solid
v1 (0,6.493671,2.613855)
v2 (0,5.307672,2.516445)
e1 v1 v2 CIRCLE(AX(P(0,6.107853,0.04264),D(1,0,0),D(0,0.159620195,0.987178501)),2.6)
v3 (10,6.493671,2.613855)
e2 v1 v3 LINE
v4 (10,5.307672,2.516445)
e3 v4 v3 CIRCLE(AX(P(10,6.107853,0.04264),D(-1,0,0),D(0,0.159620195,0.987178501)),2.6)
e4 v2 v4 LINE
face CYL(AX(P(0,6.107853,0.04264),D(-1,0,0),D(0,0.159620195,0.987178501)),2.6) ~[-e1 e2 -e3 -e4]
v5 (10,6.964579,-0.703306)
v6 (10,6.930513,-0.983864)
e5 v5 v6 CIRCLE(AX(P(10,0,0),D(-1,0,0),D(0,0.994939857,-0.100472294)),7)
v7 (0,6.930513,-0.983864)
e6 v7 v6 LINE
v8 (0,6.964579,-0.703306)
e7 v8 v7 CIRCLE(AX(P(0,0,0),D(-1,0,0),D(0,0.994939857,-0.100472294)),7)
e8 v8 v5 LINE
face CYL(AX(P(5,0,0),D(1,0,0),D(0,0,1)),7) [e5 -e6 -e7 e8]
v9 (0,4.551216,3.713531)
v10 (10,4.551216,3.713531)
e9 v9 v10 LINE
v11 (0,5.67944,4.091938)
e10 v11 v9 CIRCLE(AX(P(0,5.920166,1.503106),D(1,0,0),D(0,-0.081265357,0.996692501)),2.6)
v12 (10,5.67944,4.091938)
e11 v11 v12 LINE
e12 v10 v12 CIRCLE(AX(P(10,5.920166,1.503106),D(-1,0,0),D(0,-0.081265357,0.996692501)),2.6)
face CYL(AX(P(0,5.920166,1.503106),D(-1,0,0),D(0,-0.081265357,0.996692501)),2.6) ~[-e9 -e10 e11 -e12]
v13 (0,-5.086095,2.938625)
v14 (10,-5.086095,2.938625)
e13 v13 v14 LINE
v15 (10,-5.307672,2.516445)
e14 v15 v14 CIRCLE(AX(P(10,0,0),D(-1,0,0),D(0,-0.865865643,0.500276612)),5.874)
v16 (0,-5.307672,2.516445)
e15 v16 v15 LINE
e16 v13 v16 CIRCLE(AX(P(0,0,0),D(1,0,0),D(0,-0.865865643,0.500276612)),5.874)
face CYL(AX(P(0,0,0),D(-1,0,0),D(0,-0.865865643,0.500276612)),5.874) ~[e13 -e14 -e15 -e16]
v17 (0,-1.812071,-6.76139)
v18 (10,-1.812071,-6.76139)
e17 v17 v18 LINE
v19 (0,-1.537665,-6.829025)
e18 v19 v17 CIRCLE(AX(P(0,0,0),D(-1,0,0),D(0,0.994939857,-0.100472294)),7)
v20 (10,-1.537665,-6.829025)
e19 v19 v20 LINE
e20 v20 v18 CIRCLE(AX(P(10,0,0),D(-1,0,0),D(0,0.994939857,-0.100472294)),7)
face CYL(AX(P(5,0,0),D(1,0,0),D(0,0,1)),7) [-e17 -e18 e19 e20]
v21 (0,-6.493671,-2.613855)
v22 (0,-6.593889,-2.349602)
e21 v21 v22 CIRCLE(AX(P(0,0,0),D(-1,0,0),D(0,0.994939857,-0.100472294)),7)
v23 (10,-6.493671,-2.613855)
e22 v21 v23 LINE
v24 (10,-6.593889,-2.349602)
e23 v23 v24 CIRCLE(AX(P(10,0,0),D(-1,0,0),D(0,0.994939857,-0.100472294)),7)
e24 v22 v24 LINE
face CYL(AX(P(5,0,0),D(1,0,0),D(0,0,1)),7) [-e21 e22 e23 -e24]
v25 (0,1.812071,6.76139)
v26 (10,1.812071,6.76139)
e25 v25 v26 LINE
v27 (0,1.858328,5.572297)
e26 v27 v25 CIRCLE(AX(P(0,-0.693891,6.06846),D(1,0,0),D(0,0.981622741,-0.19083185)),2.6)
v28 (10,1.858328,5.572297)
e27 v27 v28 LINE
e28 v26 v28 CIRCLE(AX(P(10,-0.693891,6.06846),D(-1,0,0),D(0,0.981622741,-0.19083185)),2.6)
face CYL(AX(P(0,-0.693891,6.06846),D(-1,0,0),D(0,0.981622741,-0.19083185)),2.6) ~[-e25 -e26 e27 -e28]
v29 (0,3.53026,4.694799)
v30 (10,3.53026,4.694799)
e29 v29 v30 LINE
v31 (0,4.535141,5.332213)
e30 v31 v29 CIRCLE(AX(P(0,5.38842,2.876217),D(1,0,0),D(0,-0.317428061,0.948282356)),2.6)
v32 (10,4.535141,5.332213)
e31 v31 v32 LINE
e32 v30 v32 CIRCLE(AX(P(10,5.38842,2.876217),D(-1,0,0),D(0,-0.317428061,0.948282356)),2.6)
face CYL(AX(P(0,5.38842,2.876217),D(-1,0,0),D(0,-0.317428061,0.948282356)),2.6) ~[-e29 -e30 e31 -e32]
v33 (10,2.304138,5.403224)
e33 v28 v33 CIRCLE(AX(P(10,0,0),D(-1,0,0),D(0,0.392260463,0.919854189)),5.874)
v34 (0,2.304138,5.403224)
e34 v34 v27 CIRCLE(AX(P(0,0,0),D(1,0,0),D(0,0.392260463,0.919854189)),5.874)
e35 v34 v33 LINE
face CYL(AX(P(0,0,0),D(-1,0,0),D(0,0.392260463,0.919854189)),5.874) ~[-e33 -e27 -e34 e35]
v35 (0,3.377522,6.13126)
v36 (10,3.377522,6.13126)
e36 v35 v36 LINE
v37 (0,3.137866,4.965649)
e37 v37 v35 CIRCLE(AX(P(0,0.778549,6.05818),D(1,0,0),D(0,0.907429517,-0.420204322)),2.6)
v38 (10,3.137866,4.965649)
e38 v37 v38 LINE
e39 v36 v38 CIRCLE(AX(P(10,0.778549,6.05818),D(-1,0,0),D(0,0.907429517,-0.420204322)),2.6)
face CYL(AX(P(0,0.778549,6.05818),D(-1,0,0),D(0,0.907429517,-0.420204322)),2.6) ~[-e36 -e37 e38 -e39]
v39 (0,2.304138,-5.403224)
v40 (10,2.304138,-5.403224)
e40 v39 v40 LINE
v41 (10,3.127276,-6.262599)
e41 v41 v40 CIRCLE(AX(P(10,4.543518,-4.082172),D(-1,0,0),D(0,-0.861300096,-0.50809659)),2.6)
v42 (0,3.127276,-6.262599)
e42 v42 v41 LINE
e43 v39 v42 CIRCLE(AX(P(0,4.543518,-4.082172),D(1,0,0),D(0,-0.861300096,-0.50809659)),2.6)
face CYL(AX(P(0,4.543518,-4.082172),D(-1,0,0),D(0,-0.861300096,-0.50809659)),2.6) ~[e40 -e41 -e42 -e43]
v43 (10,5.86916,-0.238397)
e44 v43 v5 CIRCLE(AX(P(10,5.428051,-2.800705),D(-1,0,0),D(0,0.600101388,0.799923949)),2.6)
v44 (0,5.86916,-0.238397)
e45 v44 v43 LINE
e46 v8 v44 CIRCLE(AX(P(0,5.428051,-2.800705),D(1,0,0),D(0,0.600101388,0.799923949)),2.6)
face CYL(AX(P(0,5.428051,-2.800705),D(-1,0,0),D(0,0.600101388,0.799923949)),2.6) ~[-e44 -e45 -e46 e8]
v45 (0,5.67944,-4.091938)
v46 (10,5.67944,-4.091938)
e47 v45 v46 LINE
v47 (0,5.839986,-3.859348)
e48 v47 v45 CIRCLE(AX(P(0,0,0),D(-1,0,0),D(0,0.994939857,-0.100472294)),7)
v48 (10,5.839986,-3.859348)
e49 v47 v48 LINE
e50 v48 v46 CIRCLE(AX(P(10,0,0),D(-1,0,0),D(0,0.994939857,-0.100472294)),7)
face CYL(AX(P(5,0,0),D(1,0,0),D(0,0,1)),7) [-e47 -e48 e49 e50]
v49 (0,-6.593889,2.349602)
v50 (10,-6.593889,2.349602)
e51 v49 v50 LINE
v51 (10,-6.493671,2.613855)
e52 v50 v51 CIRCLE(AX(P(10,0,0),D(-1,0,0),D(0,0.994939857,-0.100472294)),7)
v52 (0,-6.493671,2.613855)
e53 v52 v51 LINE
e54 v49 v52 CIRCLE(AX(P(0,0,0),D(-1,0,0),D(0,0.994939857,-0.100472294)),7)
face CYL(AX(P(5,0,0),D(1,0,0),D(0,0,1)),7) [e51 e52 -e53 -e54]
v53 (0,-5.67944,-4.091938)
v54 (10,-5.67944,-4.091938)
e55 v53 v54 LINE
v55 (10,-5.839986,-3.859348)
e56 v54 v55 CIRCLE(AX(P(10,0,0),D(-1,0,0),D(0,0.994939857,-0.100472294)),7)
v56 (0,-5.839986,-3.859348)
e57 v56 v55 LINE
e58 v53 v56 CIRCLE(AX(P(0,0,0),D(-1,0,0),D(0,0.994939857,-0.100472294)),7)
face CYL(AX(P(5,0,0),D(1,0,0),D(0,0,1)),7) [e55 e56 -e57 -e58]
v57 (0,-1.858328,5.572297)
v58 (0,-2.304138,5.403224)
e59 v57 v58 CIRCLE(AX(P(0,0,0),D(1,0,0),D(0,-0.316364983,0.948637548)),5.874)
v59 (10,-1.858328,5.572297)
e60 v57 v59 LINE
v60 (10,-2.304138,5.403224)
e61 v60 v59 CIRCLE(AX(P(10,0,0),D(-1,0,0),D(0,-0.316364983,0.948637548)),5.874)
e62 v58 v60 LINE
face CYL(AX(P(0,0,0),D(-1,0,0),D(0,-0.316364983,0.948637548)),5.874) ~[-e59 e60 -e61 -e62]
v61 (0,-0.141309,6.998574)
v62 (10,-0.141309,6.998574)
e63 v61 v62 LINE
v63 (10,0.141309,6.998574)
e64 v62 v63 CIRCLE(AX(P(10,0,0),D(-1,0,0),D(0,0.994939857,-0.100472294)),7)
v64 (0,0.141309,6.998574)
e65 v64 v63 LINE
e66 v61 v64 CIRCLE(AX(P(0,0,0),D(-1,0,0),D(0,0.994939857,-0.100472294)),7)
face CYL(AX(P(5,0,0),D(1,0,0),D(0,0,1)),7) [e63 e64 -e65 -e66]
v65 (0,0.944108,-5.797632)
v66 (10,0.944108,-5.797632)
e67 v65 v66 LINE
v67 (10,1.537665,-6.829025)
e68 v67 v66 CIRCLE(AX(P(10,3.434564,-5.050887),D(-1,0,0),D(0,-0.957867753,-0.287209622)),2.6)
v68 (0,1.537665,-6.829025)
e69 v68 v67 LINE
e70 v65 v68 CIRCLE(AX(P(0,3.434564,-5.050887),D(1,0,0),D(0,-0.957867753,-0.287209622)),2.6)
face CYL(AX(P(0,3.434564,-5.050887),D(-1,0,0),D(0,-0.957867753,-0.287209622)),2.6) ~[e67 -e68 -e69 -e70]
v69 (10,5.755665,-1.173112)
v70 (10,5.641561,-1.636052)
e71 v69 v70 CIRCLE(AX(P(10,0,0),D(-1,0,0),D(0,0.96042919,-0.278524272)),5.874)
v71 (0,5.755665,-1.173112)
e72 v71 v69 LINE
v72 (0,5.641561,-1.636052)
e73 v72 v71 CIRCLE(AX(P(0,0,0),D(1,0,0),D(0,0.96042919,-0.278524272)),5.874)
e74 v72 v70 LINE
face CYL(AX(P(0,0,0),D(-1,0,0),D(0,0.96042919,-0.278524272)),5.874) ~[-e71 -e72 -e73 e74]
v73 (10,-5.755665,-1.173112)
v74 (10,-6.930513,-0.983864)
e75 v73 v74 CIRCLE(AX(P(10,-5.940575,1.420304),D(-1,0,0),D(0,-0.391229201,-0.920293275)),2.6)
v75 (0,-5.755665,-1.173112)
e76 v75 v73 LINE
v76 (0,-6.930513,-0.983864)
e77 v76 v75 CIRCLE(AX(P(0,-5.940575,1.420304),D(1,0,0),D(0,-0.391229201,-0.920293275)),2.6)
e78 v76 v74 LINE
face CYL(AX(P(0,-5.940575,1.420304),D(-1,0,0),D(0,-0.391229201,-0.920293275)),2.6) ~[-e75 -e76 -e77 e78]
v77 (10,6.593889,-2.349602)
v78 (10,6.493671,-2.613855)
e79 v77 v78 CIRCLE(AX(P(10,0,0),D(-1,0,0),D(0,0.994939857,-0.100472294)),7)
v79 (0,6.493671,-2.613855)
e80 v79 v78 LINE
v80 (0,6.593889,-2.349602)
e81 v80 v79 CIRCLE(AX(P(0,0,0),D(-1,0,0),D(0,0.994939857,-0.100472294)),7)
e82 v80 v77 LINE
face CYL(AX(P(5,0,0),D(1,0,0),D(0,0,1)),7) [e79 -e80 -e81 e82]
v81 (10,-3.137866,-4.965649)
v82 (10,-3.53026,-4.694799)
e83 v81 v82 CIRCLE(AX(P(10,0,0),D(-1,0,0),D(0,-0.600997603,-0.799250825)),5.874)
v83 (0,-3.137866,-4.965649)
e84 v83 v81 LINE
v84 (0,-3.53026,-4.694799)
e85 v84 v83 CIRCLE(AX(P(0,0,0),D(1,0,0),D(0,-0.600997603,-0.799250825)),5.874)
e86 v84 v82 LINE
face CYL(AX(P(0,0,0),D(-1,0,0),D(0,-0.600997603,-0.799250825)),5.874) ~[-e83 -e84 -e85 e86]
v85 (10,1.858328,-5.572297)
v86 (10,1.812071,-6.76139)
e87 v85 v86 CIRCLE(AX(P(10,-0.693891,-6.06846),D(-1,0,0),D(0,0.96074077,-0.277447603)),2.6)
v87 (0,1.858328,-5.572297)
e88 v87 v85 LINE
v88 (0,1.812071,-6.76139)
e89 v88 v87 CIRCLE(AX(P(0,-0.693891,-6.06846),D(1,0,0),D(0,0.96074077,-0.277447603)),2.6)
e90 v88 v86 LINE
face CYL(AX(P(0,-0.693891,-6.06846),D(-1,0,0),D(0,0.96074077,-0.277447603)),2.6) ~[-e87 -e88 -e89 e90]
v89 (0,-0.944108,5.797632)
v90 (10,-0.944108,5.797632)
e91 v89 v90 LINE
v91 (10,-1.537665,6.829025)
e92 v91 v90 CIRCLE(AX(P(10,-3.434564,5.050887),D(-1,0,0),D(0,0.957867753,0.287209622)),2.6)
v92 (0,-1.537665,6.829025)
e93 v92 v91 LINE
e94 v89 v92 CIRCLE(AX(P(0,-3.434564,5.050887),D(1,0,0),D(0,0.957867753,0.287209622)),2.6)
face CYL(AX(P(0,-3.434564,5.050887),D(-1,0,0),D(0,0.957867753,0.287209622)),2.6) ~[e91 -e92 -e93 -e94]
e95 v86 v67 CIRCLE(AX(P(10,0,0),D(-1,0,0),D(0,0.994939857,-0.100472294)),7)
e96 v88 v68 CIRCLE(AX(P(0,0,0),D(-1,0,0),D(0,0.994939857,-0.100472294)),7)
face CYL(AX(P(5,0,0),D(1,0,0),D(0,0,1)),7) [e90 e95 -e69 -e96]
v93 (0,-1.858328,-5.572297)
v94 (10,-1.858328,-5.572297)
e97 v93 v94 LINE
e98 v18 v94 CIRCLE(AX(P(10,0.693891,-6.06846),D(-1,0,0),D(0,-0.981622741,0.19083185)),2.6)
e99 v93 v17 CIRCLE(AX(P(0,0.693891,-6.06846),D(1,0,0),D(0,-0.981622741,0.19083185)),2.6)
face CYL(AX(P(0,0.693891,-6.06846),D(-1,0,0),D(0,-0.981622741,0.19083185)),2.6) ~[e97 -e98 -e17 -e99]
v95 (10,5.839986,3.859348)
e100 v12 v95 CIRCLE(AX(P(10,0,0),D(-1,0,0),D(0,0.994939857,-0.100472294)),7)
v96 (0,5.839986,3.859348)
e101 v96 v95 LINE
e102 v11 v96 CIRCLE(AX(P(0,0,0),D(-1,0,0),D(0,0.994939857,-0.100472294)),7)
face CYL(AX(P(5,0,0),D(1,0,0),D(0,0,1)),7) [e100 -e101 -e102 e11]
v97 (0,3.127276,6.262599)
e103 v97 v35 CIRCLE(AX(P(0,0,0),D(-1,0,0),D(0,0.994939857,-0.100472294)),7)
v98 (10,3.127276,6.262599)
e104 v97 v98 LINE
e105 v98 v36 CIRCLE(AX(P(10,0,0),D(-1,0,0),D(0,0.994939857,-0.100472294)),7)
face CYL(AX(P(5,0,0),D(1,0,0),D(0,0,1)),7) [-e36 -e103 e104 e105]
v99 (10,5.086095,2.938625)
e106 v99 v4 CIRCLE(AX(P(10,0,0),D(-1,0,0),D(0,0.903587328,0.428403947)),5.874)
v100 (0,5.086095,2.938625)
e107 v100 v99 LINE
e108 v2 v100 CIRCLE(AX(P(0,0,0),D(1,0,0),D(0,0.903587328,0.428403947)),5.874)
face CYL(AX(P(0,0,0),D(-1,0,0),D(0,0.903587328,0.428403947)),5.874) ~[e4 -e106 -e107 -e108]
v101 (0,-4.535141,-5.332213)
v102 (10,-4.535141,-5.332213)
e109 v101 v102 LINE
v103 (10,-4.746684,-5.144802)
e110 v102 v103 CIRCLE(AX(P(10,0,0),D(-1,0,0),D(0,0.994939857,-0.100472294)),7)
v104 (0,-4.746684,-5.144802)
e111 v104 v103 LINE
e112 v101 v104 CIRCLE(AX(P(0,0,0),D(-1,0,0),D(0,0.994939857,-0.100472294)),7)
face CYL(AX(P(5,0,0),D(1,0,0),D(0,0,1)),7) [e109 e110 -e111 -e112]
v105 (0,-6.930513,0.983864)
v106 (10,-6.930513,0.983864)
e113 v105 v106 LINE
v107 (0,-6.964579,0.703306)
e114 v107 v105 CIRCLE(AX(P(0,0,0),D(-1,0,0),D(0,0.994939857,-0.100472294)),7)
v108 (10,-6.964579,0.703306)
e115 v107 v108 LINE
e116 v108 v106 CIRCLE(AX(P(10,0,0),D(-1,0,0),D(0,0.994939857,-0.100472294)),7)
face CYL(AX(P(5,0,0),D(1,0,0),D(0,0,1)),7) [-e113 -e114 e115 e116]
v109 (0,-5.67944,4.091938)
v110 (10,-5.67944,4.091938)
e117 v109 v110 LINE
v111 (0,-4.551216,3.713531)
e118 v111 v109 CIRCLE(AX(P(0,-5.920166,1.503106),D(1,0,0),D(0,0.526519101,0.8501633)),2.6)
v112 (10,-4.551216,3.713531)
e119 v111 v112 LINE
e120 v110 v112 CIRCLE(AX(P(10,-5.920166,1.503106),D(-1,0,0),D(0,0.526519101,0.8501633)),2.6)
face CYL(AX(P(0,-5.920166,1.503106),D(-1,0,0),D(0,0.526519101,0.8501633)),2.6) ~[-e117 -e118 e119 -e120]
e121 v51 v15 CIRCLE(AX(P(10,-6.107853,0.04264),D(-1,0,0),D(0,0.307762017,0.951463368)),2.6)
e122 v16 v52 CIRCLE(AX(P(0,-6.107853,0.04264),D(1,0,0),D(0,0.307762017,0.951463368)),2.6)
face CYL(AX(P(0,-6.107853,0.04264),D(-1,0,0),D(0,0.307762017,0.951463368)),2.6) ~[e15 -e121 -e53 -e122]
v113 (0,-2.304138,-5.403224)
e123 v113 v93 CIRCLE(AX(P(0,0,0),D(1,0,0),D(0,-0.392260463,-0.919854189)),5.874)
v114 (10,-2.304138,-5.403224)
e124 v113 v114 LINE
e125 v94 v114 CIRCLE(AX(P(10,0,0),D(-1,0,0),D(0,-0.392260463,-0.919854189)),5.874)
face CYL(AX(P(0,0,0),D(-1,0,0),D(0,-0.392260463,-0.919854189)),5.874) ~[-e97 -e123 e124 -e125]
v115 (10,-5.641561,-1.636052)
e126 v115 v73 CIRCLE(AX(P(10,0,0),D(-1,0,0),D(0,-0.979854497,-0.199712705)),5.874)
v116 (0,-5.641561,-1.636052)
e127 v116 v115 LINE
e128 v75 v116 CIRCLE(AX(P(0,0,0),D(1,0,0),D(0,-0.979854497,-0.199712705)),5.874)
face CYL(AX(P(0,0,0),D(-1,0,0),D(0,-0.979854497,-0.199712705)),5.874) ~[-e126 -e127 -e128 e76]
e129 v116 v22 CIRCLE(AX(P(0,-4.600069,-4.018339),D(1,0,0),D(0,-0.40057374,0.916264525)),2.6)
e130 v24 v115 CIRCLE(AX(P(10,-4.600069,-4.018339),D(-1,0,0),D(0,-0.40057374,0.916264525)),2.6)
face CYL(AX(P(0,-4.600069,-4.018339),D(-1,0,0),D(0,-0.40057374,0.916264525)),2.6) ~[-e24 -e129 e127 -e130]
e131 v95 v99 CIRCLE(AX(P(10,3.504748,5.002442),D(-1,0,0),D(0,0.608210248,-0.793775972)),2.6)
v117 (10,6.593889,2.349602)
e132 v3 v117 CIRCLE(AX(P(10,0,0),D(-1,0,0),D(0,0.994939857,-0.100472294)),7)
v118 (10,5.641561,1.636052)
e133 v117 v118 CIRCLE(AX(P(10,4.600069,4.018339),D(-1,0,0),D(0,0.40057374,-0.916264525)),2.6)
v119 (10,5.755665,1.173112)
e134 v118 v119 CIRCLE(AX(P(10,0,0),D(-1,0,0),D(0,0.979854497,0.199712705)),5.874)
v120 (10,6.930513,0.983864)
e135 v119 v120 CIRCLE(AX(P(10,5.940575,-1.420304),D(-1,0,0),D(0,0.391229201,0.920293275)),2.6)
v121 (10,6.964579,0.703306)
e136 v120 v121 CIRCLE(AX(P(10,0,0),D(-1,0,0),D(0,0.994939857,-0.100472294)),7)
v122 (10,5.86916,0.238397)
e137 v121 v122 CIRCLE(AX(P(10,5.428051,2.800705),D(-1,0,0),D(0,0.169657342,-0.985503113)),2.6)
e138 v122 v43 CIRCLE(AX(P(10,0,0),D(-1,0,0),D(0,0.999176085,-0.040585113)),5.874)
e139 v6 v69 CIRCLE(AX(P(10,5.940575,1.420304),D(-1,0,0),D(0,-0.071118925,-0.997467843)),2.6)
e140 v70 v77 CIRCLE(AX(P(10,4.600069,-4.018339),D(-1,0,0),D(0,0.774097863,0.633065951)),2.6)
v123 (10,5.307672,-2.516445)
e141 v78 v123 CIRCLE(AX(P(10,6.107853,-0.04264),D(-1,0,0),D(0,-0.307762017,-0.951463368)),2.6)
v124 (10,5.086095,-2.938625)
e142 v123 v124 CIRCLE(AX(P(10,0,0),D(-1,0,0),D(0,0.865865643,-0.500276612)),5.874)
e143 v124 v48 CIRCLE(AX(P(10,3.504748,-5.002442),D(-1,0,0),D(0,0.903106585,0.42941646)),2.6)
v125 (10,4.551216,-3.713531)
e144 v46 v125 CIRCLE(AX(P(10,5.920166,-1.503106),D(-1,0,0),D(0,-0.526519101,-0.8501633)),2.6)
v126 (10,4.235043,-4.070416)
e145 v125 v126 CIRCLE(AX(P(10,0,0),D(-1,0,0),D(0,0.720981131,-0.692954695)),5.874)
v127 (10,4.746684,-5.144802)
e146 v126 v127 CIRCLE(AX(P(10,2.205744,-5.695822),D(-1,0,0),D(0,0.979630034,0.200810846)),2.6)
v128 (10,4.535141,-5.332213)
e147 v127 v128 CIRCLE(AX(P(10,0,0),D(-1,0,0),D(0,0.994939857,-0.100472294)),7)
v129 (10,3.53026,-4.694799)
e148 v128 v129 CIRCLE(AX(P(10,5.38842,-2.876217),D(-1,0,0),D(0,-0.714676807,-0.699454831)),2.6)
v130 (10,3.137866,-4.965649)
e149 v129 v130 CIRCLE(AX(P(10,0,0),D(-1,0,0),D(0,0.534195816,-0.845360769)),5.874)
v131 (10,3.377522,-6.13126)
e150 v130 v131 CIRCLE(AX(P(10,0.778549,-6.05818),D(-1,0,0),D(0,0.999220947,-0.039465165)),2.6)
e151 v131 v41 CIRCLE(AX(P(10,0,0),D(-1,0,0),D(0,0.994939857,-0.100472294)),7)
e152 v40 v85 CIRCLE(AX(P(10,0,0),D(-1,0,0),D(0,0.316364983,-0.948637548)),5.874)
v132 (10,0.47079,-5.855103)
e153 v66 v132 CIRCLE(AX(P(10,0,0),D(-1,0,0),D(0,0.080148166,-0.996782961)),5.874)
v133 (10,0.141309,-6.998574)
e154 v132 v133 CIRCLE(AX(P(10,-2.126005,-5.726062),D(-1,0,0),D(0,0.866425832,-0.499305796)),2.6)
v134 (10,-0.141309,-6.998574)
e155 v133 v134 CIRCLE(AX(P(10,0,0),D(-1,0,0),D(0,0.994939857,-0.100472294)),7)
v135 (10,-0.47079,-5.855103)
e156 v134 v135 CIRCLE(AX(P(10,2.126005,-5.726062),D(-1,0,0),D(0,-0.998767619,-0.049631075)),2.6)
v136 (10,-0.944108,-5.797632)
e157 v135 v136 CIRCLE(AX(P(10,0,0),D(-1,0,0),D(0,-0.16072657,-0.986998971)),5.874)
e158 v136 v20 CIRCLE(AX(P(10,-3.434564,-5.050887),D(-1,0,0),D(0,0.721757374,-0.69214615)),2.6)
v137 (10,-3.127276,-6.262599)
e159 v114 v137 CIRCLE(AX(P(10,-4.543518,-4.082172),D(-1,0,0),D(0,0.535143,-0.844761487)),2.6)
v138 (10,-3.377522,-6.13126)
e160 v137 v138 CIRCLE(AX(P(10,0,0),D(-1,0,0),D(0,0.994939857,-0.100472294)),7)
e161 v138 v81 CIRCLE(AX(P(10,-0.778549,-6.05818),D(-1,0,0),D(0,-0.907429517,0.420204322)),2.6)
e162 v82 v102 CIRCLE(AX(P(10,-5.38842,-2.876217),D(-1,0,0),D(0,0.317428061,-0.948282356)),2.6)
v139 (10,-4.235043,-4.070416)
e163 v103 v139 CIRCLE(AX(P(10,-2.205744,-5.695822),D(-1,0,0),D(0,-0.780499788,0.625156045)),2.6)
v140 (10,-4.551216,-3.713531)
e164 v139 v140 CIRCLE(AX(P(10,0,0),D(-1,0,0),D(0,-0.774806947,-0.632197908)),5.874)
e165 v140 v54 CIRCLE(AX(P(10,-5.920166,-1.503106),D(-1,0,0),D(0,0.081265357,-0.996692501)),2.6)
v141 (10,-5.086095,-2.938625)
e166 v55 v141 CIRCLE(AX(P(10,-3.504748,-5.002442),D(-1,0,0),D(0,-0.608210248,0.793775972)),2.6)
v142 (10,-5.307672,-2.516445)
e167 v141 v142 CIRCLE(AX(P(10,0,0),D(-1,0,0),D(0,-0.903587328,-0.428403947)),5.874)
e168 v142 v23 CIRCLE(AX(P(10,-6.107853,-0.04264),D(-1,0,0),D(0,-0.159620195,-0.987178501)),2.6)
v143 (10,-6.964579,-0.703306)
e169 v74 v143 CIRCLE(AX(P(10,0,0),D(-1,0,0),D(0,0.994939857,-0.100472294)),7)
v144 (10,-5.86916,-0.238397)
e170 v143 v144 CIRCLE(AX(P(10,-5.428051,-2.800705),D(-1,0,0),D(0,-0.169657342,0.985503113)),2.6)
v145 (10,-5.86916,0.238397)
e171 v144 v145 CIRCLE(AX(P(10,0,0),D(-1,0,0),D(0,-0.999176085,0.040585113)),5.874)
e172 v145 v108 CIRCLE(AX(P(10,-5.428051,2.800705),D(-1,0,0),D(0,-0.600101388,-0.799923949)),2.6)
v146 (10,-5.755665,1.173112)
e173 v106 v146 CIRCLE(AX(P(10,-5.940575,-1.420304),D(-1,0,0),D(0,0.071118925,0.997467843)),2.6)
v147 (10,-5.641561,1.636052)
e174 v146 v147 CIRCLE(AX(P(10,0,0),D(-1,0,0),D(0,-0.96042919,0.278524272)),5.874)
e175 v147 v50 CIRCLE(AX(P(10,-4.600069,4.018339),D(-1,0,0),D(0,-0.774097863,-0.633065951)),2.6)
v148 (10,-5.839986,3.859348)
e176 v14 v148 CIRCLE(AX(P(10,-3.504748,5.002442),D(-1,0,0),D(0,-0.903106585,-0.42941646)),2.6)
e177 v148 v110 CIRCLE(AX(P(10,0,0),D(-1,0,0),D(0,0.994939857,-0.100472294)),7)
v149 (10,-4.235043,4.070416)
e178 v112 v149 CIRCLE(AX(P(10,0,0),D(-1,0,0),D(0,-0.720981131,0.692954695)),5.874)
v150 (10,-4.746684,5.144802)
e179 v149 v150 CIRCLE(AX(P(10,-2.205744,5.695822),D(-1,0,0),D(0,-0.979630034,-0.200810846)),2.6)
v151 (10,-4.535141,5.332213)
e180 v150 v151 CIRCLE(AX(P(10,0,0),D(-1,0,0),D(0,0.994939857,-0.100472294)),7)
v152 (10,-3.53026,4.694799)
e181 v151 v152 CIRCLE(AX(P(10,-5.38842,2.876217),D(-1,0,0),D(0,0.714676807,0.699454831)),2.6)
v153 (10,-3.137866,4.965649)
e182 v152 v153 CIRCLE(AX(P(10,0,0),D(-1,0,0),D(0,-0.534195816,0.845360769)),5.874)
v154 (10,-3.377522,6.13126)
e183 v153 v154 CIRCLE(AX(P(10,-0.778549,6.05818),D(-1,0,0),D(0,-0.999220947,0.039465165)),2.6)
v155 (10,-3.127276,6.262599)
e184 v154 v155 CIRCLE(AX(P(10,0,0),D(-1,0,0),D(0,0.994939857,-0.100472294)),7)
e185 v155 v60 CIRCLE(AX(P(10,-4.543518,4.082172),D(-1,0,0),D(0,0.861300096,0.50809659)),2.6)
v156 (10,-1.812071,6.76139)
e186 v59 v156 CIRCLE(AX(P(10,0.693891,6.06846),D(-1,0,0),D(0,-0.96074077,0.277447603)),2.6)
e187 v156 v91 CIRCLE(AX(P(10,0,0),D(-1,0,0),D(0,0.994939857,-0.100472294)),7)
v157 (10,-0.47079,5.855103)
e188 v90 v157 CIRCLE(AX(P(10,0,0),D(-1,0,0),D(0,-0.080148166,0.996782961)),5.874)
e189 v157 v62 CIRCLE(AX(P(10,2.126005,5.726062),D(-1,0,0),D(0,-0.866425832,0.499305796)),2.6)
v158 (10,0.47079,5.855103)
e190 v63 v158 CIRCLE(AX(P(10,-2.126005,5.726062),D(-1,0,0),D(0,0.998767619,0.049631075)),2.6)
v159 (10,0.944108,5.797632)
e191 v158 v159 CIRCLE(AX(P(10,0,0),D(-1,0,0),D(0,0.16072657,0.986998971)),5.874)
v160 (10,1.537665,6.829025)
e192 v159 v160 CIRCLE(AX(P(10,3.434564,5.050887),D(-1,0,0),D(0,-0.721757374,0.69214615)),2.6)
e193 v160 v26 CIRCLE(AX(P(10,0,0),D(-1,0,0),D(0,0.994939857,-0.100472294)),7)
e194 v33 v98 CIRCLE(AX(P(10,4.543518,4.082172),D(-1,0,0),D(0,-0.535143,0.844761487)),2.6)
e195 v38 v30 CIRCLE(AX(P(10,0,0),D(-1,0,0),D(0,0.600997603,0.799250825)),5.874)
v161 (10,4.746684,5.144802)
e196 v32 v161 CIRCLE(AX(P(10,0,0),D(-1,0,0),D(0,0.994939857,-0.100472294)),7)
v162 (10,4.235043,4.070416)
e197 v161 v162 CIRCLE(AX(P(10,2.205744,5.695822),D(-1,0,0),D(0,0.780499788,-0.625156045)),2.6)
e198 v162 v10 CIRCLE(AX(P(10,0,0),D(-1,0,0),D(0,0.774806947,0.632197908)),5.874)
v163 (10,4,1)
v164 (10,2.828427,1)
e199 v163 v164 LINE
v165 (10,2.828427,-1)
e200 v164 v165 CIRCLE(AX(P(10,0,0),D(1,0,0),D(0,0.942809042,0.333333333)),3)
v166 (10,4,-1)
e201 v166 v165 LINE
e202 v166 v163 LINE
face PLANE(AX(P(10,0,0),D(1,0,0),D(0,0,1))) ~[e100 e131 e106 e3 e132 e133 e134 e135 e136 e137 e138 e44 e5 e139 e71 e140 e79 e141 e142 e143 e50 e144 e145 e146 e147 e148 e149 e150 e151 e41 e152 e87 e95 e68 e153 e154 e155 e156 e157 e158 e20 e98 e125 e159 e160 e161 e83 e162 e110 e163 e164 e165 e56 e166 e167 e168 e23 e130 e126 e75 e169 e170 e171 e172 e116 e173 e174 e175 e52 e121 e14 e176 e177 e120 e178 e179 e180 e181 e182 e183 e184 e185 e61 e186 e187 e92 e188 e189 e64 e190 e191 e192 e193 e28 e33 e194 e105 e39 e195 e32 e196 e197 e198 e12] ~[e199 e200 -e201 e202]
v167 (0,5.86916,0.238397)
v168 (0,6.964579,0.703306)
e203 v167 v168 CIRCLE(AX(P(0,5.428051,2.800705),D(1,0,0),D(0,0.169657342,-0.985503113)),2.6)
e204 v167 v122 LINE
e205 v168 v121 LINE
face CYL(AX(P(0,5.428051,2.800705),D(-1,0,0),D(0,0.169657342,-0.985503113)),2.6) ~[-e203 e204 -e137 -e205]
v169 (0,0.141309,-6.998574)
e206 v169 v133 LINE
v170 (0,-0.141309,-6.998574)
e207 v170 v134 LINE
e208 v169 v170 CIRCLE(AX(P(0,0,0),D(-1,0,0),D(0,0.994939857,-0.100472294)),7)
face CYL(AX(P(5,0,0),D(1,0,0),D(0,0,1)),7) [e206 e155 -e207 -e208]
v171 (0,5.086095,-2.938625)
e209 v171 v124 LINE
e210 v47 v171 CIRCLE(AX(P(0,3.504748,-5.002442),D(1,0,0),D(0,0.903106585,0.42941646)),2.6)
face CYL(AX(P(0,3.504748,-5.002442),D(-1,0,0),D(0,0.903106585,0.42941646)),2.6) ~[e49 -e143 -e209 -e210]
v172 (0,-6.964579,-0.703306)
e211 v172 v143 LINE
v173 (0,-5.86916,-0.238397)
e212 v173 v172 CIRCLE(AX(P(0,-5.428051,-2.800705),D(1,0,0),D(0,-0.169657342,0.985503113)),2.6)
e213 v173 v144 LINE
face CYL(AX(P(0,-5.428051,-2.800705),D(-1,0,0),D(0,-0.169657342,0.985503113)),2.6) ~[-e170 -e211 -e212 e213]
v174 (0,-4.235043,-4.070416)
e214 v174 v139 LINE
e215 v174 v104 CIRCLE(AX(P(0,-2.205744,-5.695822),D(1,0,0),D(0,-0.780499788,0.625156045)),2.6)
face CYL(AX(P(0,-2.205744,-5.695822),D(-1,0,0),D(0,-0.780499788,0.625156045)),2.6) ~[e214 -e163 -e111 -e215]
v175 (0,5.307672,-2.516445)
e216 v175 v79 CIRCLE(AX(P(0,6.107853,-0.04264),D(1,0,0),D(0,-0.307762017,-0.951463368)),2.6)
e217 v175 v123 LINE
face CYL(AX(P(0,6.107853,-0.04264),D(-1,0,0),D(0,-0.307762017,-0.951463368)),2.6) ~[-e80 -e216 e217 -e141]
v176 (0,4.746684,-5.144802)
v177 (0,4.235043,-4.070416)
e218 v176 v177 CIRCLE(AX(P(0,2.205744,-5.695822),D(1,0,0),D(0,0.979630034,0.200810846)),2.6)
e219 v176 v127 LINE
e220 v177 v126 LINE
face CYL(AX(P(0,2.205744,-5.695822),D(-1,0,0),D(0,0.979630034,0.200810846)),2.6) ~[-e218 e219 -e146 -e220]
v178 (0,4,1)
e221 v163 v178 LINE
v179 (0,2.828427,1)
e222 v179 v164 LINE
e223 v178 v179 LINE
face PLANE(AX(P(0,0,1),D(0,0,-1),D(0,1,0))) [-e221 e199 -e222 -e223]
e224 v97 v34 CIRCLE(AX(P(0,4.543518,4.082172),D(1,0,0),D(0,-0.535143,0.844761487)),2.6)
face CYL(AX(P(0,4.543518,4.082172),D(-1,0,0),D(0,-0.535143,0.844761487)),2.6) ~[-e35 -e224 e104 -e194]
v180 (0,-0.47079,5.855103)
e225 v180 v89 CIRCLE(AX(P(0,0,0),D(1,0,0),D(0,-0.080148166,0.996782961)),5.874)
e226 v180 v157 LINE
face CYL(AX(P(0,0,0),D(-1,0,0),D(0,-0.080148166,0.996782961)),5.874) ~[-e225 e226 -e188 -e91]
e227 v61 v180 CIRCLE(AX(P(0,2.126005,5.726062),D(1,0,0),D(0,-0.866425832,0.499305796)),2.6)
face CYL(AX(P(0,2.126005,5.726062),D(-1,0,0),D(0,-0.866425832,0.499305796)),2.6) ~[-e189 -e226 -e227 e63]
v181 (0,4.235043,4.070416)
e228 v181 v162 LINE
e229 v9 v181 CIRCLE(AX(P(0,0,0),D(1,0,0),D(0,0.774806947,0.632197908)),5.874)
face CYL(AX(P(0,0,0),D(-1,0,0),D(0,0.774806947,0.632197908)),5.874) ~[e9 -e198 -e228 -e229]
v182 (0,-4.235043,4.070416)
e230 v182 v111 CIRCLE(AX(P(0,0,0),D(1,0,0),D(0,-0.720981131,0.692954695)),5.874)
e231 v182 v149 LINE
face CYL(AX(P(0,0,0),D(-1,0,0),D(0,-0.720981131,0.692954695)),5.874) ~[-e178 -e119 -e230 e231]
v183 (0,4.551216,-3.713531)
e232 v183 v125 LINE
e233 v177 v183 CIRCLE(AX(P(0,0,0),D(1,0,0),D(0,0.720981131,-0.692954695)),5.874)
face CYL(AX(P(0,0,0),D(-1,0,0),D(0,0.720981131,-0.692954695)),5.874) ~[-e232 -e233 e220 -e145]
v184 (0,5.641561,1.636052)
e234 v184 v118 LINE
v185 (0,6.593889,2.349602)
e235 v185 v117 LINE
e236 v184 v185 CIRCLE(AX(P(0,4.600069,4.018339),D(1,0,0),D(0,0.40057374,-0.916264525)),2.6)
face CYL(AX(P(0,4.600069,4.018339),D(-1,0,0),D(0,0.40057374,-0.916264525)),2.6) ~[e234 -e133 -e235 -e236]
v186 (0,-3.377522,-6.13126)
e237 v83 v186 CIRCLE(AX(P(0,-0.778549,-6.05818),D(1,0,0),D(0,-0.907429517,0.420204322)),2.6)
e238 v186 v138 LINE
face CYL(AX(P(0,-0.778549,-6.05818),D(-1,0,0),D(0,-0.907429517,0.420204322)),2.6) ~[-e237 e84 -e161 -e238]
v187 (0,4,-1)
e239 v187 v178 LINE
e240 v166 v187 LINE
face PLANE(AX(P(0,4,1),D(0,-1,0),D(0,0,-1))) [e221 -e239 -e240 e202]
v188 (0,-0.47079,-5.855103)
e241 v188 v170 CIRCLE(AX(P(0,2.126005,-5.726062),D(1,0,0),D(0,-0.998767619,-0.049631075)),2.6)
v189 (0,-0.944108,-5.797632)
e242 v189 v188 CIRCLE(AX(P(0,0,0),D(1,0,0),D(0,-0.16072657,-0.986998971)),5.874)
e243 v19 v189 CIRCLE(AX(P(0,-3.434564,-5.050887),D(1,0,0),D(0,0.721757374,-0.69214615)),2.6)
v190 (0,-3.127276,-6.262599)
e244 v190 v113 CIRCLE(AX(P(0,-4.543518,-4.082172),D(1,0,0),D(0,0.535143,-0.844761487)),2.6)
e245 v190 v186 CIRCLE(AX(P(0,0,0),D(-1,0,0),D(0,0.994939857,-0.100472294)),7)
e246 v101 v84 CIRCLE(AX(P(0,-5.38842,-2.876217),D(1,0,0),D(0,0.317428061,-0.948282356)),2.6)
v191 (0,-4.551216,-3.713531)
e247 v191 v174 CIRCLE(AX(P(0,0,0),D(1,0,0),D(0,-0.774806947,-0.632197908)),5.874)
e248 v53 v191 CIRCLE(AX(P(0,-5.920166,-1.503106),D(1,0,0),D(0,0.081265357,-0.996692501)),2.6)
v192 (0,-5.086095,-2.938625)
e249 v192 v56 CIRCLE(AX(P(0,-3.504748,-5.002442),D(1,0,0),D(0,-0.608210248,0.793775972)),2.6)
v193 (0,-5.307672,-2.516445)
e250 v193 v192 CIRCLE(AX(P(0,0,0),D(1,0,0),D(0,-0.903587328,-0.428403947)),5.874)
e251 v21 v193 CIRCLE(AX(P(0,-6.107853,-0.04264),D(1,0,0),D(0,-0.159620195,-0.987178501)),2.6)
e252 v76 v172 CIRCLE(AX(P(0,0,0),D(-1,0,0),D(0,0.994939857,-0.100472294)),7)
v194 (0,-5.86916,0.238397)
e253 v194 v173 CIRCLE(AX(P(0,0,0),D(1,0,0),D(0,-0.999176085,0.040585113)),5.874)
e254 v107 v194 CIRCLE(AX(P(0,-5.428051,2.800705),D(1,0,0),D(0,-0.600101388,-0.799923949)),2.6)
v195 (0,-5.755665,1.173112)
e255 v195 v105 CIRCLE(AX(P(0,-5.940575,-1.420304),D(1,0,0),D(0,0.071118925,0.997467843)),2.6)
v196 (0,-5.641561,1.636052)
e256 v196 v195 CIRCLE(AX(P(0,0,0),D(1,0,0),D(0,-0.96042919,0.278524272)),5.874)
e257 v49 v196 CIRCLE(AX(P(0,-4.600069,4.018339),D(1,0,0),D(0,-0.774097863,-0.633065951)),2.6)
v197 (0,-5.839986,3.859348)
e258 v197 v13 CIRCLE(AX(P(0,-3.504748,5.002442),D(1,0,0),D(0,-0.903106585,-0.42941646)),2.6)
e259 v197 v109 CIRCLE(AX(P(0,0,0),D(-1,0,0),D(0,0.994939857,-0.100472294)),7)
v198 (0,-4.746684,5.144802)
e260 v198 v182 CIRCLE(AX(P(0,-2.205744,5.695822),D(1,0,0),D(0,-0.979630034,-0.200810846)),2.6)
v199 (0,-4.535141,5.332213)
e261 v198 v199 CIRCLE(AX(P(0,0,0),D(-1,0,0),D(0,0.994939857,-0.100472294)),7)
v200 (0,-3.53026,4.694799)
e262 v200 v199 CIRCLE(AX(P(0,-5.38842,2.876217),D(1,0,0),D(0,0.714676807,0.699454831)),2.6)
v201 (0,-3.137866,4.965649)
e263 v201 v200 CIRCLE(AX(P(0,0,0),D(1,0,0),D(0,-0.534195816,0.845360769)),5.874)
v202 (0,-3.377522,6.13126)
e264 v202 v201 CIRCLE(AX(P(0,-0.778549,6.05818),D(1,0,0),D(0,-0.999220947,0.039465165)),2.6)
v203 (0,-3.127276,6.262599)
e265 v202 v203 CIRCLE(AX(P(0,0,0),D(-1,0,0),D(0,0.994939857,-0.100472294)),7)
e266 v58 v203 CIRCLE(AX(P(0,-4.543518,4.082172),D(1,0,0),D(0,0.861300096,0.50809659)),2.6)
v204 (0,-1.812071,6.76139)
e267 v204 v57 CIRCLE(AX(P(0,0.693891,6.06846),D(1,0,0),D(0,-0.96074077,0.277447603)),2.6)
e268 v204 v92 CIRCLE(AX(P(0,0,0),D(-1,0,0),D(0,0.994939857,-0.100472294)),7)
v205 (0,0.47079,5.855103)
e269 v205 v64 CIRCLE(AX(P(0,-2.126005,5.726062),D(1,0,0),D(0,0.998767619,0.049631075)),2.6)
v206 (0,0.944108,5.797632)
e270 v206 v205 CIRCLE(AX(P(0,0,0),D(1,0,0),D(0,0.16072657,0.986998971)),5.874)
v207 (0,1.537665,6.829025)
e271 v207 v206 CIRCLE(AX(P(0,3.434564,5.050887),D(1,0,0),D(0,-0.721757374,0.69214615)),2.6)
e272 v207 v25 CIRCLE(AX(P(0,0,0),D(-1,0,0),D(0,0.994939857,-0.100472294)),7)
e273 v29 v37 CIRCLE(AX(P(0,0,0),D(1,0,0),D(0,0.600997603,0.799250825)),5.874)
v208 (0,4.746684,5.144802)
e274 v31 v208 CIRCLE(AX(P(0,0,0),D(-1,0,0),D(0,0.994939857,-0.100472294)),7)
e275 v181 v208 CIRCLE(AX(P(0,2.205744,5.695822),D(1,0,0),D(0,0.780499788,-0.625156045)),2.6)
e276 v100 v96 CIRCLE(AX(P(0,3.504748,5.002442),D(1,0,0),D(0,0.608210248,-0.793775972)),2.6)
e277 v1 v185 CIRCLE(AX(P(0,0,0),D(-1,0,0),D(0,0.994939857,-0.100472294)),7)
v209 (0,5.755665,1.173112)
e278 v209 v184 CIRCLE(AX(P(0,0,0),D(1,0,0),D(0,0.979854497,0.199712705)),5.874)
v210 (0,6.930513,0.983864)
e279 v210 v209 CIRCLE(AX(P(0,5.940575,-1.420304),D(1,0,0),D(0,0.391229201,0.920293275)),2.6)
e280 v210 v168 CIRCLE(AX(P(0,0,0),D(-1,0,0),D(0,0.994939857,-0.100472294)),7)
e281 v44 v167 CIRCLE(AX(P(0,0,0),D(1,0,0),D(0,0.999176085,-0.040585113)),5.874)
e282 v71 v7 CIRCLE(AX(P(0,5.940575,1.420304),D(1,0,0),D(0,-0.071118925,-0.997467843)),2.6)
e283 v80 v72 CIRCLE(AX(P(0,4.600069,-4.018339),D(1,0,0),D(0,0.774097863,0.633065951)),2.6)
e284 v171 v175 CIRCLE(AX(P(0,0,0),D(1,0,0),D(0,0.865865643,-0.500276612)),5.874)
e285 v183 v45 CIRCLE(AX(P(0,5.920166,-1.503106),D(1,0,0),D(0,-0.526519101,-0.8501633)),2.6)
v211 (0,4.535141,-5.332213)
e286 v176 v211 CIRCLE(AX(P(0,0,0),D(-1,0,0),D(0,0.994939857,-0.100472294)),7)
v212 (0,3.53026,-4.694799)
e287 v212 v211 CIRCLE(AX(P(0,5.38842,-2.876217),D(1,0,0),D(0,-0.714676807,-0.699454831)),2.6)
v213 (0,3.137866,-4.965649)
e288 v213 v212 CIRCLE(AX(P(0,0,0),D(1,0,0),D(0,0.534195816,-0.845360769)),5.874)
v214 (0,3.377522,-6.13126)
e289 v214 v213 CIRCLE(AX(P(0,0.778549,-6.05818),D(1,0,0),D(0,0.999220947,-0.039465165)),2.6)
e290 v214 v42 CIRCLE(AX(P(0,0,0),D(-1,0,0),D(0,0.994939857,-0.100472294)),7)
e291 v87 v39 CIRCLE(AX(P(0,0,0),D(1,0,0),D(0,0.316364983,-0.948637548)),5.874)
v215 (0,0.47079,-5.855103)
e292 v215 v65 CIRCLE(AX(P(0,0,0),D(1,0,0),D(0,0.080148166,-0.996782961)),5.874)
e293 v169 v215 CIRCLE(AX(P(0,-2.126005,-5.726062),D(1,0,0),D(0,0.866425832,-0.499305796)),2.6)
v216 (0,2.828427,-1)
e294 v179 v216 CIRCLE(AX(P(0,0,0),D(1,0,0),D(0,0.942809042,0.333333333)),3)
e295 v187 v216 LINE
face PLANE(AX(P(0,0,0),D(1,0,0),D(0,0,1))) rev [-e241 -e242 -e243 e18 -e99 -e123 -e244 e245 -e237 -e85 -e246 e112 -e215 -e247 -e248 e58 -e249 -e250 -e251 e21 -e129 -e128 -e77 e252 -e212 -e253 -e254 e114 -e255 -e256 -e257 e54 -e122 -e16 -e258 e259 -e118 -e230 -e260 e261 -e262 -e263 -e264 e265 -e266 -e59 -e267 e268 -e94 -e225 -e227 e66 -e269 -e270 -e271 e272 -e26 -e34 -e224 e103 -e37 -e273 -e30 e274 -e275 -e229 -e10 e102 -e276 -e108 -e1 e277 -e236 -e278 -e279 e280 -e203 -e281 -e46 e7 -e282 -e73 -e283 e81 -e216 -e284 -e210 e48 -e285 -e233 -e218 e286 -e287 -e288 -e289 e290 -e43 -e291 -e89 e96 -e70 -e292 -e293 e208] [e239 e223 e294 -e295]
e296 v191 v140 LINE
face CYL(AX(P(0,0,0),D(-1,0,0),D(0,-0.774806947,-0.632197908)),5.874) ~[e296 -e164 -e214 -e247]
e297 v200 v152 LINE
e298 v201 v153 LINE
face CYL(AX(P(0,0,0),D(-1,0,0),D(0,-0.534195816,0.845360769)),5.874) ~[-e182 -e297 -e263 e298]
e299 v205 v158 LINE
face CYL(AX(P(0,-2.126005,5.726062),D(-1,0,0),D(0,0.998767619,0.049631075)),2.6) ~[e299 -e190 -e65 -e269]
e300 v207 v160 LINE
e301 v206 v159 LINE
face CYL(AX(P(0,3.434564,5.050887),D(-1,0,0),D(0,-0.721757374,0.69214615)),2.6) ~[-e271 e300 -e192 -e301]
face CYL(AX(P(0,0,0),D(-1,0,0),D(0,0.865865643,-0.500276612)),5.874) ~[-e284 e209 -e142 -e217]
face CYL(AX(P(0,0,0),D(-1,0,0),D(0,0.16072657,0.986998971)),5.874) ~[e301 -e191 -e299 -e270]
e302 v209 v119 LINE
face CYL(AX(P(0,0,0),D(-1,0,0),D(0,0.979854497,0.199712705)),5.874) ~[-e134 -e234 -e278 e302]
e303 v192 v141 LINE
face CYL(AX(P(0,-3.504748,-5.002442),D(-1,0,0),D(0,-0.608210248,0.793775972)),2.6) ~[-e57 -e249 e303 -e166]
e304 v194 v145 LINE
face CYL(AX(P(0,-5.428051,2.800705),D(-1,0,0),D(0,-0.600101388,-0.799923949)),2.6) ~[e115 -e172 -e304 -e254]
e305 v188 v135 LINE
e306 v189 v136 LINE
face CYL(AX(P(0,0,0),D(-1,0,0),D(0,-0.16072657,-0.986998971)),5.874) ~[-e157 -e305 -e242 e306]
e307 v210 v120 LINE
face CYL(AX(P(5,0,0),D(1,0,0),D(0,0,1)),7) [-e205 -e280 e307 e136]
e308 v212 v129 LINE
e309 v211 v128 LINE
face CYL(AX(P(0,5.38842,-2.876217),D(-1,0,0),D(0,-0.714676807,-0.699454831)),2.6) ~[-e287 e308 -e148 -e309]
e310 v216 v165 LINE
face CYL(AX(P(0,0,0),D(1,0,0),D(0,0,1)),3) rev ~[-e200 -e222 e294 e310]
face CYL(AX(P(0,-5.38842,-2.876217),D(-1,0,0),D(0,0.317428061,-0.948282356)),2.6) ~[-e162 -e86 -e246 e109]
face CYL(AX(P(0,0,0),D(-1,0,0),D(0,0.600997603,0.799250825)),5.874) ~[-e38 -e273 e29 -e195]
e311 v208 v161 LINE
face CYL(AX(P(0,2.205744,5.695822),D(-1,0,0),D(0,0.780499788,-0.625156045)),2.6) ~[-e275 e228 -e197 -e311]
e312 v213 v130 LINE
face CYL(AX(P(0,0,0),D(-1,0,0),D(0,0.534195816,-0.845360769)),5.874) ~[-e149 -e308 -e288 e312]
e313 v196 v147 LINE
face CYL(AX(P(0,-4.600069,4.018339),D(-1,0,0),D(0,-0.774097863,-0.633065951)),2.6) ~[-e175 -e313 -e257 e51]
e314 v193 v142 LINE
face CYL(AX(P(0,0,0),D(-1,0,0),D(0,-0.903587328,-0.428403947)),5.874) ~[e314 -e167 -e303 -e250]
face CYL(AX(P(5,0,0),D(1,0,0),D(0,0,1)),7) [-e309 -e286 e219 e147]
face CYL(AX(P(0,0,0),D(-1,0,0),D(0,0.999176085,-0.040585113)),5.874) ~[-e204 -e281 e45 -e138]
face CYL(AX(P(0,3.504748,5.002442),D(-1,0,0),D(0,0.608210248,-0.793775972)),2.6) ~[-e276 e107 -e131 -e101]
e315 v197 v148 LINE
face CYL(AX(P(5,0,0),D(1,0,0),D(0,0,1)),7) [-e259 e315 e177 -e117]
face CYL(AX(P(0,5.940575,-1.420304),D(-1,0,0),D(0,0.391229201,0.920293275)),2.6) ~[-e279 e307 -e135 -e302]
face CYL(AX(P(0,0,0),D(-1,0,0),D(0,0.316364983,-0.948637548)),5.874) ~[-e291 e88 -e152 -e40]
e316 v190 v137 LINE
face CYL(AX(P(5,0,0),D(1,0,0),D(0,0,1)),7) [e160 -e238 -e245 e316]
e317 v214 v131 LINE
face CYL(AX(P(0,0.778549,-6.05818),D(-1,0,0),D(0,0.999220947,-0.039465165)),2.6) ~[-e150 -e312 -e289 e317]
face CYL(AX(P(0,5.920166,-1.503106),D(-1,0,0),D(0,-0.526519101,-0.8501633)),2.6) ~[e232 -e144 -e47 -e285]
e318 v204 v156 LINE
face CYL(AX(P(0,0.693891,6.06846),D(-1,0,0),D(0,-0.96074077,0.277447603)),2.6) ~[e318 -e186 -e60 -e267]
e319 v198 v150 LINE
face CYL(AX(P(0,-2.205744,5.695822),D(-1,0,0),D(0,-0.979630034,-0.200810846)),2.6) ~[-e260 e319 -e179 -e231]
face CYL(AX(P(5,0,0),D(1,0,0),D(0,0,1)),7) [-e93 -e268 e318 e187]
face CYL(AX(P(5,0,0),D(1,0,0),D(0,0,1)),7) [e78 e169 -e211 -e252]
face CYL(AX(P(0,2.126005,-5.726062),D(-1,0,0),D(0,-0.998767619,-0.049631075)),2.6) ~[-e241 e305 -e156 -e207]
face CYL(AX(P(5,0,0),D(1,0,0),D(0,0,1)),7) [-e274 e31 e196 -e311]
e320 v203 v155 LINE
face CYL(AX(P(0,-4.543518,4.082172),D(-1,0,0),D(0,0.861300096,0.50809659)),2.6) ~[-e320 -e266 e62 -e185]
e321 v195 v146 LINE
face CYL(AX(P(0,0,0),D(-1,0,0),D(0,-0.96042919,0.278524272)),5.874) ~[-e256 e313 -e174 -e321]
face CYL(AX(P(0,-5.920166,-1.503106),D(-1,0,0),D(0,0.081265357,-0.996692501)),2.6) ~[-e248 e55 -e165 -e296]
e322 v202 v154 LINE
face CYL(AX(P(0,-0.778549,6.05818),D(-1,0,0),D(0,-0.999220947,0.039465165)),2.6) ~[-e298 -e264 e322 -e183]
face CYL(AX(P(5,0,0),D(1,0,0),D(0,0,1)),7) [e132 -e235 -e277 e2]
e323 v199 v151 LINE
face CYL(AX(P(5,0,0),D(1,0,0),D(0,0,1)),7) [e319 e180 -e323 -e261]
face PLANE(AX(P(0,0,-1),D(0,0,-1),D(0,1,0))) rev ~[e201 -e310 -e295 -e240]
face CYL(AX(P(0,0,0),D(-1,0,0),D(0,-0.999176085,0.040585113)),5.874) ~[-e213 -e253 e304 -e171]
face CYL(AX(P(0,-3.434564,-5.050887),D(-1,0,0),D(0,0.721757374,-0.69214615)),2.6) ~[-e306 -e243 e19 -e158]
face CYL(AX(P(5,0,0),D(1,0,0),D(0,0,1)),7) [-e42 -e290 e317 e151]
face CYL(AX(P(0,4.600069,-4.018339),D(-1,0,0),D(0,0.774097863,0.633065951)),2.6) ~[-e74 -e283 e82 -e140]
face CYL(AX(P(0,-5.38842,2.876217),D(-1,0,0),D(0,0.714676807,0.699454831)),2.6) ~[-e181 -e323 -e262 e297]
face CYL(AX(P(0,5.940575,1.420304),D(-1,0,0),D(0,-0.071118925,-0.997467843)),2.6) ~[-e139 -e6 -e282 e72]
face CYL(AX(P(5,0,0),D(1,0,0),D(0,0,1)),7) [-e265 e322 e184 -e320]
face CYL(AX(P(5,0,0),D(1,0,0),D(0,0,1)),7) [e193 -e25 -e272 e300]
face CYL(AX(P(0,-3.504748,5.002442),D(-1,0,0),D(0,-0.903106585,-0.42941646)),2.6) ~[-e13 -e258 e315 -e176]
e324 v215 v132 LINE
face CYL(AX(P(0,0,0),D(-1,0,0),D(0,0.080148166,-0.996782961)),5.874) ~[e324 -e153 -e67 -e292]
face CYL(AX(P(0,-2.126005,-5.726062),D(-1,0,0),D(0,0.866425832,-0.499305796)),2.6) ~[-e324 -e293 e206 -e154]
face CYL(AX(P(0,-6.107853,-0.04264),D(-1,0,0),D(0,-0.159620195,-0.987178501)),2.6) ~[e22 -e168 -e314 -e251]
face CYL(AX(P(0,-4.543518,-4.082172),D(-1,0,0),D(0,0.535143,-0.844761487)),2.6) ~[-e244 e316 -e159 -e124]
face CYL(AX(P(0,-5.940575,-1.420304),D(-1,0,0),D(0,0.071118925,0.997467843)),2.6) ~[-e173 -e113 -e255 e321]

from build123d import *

# Parameters (mm, degrees)
BASPROSKE_W     = 10
BASPROSKE_H     = 7
TOOTHCUT_DEPTH  = 15.071247279
TEETHCUTS_COUNT = 26
TEETHCUTS_ANGLE = 346.153846154
BORSKE_R        = 3
BORE_DEPTH      = 50.0000508
KEYSKE_W        = 2
KEYSKE_H        = 4
KEYWAY_DEPTH    = 50.0000508


with BuildPart() as part:
    # BasProSke → Base-Revolve (revolve)
    with BuildSketch(Plane(origin=(0, 0, 0), x_dir=(1, 0, 0), z_dir=(0, 1, 0)), mode=Mode.PRIVATE) as base_revolve_sk:
        with Locations((5, 3.5)):
            Rectangle(BASPROSKE_W, BASPROSKE_H)
    revolve(base_revolve_sk.sketch.rotate(Axis((-10, 0, 0), (1, 0, 0)), 180), axis=Axis((-10, 0, 0), (1, 0, 0)))

    # TooCutSke → ToothCut (cut, through all)
    with BuildSketch(Plane(origin=(0, 0, 0), x_dir=(0, 0, -1), z_dir=(1, 0, 0))):
        with BuildLine():
            ThreePointArc((0.238396934, 5.869160323), (0, 5.874), (-0.238396934, 5.869160323))
            ThreePointArc((-0.238396934, 5.869160323), (-0.413148985, 6.457408383), (-0.720902762, 6.988314845))
            ThreePointArc((-0.720902762, 6.988314845), (0, 7.0254), (0.720902762, 6.988314845))
            ThreePointArc((0.720902762, 6.988314845), (0.413148985, 6.457408383), (0.238396934, 5.869160323))
        make_face()
    toothcut = extrude(amount=TOOTHCUT_DEPTH, mode=Mode.SUBTRACT)

    # TeethCuts: ToothCut ×26 about axis
    teethcuts_axis = Axis((-10, 0, 0), (1, 0, 0))
    for i in range(1, TEETHCUTS_COUNT):
        add(toothcut.rotate(teethcuts_axis, i * TEETHCUTS_ANGLE / (TEETHCUTS_COUNT - 1)), mode=Mode.SUBTRACT)

    # BorSke → Bore (cut, symmetric)
    with BuildSketch(Plane(origin=(0, 0, 0), x_dir=(0, 0, -1), z_dir=(1, 0, 0))):
        with Locations(Location((0, 0, 0), (0, 0, 180))):
            Circle(BORSKE_R)
    extrude(amount=BORE_DEPTH, both=True, mode=Mode.SUBTRACT)

    # KeySke → Keyway (cut, symmetric)
    with BuildSketch(Plane(origin=(0, 0, 0), x_dir=(0, 0, -1), z_dir=(1, 0, 0))):
        with Locations((0, 2)):
            Rectangle(KEYSKE_W, KEYSKE_H)
    extrude(amount=KEYWAY_DEPTH, both=True, mode=Mode.SUBTRACT)


solid = part.part
